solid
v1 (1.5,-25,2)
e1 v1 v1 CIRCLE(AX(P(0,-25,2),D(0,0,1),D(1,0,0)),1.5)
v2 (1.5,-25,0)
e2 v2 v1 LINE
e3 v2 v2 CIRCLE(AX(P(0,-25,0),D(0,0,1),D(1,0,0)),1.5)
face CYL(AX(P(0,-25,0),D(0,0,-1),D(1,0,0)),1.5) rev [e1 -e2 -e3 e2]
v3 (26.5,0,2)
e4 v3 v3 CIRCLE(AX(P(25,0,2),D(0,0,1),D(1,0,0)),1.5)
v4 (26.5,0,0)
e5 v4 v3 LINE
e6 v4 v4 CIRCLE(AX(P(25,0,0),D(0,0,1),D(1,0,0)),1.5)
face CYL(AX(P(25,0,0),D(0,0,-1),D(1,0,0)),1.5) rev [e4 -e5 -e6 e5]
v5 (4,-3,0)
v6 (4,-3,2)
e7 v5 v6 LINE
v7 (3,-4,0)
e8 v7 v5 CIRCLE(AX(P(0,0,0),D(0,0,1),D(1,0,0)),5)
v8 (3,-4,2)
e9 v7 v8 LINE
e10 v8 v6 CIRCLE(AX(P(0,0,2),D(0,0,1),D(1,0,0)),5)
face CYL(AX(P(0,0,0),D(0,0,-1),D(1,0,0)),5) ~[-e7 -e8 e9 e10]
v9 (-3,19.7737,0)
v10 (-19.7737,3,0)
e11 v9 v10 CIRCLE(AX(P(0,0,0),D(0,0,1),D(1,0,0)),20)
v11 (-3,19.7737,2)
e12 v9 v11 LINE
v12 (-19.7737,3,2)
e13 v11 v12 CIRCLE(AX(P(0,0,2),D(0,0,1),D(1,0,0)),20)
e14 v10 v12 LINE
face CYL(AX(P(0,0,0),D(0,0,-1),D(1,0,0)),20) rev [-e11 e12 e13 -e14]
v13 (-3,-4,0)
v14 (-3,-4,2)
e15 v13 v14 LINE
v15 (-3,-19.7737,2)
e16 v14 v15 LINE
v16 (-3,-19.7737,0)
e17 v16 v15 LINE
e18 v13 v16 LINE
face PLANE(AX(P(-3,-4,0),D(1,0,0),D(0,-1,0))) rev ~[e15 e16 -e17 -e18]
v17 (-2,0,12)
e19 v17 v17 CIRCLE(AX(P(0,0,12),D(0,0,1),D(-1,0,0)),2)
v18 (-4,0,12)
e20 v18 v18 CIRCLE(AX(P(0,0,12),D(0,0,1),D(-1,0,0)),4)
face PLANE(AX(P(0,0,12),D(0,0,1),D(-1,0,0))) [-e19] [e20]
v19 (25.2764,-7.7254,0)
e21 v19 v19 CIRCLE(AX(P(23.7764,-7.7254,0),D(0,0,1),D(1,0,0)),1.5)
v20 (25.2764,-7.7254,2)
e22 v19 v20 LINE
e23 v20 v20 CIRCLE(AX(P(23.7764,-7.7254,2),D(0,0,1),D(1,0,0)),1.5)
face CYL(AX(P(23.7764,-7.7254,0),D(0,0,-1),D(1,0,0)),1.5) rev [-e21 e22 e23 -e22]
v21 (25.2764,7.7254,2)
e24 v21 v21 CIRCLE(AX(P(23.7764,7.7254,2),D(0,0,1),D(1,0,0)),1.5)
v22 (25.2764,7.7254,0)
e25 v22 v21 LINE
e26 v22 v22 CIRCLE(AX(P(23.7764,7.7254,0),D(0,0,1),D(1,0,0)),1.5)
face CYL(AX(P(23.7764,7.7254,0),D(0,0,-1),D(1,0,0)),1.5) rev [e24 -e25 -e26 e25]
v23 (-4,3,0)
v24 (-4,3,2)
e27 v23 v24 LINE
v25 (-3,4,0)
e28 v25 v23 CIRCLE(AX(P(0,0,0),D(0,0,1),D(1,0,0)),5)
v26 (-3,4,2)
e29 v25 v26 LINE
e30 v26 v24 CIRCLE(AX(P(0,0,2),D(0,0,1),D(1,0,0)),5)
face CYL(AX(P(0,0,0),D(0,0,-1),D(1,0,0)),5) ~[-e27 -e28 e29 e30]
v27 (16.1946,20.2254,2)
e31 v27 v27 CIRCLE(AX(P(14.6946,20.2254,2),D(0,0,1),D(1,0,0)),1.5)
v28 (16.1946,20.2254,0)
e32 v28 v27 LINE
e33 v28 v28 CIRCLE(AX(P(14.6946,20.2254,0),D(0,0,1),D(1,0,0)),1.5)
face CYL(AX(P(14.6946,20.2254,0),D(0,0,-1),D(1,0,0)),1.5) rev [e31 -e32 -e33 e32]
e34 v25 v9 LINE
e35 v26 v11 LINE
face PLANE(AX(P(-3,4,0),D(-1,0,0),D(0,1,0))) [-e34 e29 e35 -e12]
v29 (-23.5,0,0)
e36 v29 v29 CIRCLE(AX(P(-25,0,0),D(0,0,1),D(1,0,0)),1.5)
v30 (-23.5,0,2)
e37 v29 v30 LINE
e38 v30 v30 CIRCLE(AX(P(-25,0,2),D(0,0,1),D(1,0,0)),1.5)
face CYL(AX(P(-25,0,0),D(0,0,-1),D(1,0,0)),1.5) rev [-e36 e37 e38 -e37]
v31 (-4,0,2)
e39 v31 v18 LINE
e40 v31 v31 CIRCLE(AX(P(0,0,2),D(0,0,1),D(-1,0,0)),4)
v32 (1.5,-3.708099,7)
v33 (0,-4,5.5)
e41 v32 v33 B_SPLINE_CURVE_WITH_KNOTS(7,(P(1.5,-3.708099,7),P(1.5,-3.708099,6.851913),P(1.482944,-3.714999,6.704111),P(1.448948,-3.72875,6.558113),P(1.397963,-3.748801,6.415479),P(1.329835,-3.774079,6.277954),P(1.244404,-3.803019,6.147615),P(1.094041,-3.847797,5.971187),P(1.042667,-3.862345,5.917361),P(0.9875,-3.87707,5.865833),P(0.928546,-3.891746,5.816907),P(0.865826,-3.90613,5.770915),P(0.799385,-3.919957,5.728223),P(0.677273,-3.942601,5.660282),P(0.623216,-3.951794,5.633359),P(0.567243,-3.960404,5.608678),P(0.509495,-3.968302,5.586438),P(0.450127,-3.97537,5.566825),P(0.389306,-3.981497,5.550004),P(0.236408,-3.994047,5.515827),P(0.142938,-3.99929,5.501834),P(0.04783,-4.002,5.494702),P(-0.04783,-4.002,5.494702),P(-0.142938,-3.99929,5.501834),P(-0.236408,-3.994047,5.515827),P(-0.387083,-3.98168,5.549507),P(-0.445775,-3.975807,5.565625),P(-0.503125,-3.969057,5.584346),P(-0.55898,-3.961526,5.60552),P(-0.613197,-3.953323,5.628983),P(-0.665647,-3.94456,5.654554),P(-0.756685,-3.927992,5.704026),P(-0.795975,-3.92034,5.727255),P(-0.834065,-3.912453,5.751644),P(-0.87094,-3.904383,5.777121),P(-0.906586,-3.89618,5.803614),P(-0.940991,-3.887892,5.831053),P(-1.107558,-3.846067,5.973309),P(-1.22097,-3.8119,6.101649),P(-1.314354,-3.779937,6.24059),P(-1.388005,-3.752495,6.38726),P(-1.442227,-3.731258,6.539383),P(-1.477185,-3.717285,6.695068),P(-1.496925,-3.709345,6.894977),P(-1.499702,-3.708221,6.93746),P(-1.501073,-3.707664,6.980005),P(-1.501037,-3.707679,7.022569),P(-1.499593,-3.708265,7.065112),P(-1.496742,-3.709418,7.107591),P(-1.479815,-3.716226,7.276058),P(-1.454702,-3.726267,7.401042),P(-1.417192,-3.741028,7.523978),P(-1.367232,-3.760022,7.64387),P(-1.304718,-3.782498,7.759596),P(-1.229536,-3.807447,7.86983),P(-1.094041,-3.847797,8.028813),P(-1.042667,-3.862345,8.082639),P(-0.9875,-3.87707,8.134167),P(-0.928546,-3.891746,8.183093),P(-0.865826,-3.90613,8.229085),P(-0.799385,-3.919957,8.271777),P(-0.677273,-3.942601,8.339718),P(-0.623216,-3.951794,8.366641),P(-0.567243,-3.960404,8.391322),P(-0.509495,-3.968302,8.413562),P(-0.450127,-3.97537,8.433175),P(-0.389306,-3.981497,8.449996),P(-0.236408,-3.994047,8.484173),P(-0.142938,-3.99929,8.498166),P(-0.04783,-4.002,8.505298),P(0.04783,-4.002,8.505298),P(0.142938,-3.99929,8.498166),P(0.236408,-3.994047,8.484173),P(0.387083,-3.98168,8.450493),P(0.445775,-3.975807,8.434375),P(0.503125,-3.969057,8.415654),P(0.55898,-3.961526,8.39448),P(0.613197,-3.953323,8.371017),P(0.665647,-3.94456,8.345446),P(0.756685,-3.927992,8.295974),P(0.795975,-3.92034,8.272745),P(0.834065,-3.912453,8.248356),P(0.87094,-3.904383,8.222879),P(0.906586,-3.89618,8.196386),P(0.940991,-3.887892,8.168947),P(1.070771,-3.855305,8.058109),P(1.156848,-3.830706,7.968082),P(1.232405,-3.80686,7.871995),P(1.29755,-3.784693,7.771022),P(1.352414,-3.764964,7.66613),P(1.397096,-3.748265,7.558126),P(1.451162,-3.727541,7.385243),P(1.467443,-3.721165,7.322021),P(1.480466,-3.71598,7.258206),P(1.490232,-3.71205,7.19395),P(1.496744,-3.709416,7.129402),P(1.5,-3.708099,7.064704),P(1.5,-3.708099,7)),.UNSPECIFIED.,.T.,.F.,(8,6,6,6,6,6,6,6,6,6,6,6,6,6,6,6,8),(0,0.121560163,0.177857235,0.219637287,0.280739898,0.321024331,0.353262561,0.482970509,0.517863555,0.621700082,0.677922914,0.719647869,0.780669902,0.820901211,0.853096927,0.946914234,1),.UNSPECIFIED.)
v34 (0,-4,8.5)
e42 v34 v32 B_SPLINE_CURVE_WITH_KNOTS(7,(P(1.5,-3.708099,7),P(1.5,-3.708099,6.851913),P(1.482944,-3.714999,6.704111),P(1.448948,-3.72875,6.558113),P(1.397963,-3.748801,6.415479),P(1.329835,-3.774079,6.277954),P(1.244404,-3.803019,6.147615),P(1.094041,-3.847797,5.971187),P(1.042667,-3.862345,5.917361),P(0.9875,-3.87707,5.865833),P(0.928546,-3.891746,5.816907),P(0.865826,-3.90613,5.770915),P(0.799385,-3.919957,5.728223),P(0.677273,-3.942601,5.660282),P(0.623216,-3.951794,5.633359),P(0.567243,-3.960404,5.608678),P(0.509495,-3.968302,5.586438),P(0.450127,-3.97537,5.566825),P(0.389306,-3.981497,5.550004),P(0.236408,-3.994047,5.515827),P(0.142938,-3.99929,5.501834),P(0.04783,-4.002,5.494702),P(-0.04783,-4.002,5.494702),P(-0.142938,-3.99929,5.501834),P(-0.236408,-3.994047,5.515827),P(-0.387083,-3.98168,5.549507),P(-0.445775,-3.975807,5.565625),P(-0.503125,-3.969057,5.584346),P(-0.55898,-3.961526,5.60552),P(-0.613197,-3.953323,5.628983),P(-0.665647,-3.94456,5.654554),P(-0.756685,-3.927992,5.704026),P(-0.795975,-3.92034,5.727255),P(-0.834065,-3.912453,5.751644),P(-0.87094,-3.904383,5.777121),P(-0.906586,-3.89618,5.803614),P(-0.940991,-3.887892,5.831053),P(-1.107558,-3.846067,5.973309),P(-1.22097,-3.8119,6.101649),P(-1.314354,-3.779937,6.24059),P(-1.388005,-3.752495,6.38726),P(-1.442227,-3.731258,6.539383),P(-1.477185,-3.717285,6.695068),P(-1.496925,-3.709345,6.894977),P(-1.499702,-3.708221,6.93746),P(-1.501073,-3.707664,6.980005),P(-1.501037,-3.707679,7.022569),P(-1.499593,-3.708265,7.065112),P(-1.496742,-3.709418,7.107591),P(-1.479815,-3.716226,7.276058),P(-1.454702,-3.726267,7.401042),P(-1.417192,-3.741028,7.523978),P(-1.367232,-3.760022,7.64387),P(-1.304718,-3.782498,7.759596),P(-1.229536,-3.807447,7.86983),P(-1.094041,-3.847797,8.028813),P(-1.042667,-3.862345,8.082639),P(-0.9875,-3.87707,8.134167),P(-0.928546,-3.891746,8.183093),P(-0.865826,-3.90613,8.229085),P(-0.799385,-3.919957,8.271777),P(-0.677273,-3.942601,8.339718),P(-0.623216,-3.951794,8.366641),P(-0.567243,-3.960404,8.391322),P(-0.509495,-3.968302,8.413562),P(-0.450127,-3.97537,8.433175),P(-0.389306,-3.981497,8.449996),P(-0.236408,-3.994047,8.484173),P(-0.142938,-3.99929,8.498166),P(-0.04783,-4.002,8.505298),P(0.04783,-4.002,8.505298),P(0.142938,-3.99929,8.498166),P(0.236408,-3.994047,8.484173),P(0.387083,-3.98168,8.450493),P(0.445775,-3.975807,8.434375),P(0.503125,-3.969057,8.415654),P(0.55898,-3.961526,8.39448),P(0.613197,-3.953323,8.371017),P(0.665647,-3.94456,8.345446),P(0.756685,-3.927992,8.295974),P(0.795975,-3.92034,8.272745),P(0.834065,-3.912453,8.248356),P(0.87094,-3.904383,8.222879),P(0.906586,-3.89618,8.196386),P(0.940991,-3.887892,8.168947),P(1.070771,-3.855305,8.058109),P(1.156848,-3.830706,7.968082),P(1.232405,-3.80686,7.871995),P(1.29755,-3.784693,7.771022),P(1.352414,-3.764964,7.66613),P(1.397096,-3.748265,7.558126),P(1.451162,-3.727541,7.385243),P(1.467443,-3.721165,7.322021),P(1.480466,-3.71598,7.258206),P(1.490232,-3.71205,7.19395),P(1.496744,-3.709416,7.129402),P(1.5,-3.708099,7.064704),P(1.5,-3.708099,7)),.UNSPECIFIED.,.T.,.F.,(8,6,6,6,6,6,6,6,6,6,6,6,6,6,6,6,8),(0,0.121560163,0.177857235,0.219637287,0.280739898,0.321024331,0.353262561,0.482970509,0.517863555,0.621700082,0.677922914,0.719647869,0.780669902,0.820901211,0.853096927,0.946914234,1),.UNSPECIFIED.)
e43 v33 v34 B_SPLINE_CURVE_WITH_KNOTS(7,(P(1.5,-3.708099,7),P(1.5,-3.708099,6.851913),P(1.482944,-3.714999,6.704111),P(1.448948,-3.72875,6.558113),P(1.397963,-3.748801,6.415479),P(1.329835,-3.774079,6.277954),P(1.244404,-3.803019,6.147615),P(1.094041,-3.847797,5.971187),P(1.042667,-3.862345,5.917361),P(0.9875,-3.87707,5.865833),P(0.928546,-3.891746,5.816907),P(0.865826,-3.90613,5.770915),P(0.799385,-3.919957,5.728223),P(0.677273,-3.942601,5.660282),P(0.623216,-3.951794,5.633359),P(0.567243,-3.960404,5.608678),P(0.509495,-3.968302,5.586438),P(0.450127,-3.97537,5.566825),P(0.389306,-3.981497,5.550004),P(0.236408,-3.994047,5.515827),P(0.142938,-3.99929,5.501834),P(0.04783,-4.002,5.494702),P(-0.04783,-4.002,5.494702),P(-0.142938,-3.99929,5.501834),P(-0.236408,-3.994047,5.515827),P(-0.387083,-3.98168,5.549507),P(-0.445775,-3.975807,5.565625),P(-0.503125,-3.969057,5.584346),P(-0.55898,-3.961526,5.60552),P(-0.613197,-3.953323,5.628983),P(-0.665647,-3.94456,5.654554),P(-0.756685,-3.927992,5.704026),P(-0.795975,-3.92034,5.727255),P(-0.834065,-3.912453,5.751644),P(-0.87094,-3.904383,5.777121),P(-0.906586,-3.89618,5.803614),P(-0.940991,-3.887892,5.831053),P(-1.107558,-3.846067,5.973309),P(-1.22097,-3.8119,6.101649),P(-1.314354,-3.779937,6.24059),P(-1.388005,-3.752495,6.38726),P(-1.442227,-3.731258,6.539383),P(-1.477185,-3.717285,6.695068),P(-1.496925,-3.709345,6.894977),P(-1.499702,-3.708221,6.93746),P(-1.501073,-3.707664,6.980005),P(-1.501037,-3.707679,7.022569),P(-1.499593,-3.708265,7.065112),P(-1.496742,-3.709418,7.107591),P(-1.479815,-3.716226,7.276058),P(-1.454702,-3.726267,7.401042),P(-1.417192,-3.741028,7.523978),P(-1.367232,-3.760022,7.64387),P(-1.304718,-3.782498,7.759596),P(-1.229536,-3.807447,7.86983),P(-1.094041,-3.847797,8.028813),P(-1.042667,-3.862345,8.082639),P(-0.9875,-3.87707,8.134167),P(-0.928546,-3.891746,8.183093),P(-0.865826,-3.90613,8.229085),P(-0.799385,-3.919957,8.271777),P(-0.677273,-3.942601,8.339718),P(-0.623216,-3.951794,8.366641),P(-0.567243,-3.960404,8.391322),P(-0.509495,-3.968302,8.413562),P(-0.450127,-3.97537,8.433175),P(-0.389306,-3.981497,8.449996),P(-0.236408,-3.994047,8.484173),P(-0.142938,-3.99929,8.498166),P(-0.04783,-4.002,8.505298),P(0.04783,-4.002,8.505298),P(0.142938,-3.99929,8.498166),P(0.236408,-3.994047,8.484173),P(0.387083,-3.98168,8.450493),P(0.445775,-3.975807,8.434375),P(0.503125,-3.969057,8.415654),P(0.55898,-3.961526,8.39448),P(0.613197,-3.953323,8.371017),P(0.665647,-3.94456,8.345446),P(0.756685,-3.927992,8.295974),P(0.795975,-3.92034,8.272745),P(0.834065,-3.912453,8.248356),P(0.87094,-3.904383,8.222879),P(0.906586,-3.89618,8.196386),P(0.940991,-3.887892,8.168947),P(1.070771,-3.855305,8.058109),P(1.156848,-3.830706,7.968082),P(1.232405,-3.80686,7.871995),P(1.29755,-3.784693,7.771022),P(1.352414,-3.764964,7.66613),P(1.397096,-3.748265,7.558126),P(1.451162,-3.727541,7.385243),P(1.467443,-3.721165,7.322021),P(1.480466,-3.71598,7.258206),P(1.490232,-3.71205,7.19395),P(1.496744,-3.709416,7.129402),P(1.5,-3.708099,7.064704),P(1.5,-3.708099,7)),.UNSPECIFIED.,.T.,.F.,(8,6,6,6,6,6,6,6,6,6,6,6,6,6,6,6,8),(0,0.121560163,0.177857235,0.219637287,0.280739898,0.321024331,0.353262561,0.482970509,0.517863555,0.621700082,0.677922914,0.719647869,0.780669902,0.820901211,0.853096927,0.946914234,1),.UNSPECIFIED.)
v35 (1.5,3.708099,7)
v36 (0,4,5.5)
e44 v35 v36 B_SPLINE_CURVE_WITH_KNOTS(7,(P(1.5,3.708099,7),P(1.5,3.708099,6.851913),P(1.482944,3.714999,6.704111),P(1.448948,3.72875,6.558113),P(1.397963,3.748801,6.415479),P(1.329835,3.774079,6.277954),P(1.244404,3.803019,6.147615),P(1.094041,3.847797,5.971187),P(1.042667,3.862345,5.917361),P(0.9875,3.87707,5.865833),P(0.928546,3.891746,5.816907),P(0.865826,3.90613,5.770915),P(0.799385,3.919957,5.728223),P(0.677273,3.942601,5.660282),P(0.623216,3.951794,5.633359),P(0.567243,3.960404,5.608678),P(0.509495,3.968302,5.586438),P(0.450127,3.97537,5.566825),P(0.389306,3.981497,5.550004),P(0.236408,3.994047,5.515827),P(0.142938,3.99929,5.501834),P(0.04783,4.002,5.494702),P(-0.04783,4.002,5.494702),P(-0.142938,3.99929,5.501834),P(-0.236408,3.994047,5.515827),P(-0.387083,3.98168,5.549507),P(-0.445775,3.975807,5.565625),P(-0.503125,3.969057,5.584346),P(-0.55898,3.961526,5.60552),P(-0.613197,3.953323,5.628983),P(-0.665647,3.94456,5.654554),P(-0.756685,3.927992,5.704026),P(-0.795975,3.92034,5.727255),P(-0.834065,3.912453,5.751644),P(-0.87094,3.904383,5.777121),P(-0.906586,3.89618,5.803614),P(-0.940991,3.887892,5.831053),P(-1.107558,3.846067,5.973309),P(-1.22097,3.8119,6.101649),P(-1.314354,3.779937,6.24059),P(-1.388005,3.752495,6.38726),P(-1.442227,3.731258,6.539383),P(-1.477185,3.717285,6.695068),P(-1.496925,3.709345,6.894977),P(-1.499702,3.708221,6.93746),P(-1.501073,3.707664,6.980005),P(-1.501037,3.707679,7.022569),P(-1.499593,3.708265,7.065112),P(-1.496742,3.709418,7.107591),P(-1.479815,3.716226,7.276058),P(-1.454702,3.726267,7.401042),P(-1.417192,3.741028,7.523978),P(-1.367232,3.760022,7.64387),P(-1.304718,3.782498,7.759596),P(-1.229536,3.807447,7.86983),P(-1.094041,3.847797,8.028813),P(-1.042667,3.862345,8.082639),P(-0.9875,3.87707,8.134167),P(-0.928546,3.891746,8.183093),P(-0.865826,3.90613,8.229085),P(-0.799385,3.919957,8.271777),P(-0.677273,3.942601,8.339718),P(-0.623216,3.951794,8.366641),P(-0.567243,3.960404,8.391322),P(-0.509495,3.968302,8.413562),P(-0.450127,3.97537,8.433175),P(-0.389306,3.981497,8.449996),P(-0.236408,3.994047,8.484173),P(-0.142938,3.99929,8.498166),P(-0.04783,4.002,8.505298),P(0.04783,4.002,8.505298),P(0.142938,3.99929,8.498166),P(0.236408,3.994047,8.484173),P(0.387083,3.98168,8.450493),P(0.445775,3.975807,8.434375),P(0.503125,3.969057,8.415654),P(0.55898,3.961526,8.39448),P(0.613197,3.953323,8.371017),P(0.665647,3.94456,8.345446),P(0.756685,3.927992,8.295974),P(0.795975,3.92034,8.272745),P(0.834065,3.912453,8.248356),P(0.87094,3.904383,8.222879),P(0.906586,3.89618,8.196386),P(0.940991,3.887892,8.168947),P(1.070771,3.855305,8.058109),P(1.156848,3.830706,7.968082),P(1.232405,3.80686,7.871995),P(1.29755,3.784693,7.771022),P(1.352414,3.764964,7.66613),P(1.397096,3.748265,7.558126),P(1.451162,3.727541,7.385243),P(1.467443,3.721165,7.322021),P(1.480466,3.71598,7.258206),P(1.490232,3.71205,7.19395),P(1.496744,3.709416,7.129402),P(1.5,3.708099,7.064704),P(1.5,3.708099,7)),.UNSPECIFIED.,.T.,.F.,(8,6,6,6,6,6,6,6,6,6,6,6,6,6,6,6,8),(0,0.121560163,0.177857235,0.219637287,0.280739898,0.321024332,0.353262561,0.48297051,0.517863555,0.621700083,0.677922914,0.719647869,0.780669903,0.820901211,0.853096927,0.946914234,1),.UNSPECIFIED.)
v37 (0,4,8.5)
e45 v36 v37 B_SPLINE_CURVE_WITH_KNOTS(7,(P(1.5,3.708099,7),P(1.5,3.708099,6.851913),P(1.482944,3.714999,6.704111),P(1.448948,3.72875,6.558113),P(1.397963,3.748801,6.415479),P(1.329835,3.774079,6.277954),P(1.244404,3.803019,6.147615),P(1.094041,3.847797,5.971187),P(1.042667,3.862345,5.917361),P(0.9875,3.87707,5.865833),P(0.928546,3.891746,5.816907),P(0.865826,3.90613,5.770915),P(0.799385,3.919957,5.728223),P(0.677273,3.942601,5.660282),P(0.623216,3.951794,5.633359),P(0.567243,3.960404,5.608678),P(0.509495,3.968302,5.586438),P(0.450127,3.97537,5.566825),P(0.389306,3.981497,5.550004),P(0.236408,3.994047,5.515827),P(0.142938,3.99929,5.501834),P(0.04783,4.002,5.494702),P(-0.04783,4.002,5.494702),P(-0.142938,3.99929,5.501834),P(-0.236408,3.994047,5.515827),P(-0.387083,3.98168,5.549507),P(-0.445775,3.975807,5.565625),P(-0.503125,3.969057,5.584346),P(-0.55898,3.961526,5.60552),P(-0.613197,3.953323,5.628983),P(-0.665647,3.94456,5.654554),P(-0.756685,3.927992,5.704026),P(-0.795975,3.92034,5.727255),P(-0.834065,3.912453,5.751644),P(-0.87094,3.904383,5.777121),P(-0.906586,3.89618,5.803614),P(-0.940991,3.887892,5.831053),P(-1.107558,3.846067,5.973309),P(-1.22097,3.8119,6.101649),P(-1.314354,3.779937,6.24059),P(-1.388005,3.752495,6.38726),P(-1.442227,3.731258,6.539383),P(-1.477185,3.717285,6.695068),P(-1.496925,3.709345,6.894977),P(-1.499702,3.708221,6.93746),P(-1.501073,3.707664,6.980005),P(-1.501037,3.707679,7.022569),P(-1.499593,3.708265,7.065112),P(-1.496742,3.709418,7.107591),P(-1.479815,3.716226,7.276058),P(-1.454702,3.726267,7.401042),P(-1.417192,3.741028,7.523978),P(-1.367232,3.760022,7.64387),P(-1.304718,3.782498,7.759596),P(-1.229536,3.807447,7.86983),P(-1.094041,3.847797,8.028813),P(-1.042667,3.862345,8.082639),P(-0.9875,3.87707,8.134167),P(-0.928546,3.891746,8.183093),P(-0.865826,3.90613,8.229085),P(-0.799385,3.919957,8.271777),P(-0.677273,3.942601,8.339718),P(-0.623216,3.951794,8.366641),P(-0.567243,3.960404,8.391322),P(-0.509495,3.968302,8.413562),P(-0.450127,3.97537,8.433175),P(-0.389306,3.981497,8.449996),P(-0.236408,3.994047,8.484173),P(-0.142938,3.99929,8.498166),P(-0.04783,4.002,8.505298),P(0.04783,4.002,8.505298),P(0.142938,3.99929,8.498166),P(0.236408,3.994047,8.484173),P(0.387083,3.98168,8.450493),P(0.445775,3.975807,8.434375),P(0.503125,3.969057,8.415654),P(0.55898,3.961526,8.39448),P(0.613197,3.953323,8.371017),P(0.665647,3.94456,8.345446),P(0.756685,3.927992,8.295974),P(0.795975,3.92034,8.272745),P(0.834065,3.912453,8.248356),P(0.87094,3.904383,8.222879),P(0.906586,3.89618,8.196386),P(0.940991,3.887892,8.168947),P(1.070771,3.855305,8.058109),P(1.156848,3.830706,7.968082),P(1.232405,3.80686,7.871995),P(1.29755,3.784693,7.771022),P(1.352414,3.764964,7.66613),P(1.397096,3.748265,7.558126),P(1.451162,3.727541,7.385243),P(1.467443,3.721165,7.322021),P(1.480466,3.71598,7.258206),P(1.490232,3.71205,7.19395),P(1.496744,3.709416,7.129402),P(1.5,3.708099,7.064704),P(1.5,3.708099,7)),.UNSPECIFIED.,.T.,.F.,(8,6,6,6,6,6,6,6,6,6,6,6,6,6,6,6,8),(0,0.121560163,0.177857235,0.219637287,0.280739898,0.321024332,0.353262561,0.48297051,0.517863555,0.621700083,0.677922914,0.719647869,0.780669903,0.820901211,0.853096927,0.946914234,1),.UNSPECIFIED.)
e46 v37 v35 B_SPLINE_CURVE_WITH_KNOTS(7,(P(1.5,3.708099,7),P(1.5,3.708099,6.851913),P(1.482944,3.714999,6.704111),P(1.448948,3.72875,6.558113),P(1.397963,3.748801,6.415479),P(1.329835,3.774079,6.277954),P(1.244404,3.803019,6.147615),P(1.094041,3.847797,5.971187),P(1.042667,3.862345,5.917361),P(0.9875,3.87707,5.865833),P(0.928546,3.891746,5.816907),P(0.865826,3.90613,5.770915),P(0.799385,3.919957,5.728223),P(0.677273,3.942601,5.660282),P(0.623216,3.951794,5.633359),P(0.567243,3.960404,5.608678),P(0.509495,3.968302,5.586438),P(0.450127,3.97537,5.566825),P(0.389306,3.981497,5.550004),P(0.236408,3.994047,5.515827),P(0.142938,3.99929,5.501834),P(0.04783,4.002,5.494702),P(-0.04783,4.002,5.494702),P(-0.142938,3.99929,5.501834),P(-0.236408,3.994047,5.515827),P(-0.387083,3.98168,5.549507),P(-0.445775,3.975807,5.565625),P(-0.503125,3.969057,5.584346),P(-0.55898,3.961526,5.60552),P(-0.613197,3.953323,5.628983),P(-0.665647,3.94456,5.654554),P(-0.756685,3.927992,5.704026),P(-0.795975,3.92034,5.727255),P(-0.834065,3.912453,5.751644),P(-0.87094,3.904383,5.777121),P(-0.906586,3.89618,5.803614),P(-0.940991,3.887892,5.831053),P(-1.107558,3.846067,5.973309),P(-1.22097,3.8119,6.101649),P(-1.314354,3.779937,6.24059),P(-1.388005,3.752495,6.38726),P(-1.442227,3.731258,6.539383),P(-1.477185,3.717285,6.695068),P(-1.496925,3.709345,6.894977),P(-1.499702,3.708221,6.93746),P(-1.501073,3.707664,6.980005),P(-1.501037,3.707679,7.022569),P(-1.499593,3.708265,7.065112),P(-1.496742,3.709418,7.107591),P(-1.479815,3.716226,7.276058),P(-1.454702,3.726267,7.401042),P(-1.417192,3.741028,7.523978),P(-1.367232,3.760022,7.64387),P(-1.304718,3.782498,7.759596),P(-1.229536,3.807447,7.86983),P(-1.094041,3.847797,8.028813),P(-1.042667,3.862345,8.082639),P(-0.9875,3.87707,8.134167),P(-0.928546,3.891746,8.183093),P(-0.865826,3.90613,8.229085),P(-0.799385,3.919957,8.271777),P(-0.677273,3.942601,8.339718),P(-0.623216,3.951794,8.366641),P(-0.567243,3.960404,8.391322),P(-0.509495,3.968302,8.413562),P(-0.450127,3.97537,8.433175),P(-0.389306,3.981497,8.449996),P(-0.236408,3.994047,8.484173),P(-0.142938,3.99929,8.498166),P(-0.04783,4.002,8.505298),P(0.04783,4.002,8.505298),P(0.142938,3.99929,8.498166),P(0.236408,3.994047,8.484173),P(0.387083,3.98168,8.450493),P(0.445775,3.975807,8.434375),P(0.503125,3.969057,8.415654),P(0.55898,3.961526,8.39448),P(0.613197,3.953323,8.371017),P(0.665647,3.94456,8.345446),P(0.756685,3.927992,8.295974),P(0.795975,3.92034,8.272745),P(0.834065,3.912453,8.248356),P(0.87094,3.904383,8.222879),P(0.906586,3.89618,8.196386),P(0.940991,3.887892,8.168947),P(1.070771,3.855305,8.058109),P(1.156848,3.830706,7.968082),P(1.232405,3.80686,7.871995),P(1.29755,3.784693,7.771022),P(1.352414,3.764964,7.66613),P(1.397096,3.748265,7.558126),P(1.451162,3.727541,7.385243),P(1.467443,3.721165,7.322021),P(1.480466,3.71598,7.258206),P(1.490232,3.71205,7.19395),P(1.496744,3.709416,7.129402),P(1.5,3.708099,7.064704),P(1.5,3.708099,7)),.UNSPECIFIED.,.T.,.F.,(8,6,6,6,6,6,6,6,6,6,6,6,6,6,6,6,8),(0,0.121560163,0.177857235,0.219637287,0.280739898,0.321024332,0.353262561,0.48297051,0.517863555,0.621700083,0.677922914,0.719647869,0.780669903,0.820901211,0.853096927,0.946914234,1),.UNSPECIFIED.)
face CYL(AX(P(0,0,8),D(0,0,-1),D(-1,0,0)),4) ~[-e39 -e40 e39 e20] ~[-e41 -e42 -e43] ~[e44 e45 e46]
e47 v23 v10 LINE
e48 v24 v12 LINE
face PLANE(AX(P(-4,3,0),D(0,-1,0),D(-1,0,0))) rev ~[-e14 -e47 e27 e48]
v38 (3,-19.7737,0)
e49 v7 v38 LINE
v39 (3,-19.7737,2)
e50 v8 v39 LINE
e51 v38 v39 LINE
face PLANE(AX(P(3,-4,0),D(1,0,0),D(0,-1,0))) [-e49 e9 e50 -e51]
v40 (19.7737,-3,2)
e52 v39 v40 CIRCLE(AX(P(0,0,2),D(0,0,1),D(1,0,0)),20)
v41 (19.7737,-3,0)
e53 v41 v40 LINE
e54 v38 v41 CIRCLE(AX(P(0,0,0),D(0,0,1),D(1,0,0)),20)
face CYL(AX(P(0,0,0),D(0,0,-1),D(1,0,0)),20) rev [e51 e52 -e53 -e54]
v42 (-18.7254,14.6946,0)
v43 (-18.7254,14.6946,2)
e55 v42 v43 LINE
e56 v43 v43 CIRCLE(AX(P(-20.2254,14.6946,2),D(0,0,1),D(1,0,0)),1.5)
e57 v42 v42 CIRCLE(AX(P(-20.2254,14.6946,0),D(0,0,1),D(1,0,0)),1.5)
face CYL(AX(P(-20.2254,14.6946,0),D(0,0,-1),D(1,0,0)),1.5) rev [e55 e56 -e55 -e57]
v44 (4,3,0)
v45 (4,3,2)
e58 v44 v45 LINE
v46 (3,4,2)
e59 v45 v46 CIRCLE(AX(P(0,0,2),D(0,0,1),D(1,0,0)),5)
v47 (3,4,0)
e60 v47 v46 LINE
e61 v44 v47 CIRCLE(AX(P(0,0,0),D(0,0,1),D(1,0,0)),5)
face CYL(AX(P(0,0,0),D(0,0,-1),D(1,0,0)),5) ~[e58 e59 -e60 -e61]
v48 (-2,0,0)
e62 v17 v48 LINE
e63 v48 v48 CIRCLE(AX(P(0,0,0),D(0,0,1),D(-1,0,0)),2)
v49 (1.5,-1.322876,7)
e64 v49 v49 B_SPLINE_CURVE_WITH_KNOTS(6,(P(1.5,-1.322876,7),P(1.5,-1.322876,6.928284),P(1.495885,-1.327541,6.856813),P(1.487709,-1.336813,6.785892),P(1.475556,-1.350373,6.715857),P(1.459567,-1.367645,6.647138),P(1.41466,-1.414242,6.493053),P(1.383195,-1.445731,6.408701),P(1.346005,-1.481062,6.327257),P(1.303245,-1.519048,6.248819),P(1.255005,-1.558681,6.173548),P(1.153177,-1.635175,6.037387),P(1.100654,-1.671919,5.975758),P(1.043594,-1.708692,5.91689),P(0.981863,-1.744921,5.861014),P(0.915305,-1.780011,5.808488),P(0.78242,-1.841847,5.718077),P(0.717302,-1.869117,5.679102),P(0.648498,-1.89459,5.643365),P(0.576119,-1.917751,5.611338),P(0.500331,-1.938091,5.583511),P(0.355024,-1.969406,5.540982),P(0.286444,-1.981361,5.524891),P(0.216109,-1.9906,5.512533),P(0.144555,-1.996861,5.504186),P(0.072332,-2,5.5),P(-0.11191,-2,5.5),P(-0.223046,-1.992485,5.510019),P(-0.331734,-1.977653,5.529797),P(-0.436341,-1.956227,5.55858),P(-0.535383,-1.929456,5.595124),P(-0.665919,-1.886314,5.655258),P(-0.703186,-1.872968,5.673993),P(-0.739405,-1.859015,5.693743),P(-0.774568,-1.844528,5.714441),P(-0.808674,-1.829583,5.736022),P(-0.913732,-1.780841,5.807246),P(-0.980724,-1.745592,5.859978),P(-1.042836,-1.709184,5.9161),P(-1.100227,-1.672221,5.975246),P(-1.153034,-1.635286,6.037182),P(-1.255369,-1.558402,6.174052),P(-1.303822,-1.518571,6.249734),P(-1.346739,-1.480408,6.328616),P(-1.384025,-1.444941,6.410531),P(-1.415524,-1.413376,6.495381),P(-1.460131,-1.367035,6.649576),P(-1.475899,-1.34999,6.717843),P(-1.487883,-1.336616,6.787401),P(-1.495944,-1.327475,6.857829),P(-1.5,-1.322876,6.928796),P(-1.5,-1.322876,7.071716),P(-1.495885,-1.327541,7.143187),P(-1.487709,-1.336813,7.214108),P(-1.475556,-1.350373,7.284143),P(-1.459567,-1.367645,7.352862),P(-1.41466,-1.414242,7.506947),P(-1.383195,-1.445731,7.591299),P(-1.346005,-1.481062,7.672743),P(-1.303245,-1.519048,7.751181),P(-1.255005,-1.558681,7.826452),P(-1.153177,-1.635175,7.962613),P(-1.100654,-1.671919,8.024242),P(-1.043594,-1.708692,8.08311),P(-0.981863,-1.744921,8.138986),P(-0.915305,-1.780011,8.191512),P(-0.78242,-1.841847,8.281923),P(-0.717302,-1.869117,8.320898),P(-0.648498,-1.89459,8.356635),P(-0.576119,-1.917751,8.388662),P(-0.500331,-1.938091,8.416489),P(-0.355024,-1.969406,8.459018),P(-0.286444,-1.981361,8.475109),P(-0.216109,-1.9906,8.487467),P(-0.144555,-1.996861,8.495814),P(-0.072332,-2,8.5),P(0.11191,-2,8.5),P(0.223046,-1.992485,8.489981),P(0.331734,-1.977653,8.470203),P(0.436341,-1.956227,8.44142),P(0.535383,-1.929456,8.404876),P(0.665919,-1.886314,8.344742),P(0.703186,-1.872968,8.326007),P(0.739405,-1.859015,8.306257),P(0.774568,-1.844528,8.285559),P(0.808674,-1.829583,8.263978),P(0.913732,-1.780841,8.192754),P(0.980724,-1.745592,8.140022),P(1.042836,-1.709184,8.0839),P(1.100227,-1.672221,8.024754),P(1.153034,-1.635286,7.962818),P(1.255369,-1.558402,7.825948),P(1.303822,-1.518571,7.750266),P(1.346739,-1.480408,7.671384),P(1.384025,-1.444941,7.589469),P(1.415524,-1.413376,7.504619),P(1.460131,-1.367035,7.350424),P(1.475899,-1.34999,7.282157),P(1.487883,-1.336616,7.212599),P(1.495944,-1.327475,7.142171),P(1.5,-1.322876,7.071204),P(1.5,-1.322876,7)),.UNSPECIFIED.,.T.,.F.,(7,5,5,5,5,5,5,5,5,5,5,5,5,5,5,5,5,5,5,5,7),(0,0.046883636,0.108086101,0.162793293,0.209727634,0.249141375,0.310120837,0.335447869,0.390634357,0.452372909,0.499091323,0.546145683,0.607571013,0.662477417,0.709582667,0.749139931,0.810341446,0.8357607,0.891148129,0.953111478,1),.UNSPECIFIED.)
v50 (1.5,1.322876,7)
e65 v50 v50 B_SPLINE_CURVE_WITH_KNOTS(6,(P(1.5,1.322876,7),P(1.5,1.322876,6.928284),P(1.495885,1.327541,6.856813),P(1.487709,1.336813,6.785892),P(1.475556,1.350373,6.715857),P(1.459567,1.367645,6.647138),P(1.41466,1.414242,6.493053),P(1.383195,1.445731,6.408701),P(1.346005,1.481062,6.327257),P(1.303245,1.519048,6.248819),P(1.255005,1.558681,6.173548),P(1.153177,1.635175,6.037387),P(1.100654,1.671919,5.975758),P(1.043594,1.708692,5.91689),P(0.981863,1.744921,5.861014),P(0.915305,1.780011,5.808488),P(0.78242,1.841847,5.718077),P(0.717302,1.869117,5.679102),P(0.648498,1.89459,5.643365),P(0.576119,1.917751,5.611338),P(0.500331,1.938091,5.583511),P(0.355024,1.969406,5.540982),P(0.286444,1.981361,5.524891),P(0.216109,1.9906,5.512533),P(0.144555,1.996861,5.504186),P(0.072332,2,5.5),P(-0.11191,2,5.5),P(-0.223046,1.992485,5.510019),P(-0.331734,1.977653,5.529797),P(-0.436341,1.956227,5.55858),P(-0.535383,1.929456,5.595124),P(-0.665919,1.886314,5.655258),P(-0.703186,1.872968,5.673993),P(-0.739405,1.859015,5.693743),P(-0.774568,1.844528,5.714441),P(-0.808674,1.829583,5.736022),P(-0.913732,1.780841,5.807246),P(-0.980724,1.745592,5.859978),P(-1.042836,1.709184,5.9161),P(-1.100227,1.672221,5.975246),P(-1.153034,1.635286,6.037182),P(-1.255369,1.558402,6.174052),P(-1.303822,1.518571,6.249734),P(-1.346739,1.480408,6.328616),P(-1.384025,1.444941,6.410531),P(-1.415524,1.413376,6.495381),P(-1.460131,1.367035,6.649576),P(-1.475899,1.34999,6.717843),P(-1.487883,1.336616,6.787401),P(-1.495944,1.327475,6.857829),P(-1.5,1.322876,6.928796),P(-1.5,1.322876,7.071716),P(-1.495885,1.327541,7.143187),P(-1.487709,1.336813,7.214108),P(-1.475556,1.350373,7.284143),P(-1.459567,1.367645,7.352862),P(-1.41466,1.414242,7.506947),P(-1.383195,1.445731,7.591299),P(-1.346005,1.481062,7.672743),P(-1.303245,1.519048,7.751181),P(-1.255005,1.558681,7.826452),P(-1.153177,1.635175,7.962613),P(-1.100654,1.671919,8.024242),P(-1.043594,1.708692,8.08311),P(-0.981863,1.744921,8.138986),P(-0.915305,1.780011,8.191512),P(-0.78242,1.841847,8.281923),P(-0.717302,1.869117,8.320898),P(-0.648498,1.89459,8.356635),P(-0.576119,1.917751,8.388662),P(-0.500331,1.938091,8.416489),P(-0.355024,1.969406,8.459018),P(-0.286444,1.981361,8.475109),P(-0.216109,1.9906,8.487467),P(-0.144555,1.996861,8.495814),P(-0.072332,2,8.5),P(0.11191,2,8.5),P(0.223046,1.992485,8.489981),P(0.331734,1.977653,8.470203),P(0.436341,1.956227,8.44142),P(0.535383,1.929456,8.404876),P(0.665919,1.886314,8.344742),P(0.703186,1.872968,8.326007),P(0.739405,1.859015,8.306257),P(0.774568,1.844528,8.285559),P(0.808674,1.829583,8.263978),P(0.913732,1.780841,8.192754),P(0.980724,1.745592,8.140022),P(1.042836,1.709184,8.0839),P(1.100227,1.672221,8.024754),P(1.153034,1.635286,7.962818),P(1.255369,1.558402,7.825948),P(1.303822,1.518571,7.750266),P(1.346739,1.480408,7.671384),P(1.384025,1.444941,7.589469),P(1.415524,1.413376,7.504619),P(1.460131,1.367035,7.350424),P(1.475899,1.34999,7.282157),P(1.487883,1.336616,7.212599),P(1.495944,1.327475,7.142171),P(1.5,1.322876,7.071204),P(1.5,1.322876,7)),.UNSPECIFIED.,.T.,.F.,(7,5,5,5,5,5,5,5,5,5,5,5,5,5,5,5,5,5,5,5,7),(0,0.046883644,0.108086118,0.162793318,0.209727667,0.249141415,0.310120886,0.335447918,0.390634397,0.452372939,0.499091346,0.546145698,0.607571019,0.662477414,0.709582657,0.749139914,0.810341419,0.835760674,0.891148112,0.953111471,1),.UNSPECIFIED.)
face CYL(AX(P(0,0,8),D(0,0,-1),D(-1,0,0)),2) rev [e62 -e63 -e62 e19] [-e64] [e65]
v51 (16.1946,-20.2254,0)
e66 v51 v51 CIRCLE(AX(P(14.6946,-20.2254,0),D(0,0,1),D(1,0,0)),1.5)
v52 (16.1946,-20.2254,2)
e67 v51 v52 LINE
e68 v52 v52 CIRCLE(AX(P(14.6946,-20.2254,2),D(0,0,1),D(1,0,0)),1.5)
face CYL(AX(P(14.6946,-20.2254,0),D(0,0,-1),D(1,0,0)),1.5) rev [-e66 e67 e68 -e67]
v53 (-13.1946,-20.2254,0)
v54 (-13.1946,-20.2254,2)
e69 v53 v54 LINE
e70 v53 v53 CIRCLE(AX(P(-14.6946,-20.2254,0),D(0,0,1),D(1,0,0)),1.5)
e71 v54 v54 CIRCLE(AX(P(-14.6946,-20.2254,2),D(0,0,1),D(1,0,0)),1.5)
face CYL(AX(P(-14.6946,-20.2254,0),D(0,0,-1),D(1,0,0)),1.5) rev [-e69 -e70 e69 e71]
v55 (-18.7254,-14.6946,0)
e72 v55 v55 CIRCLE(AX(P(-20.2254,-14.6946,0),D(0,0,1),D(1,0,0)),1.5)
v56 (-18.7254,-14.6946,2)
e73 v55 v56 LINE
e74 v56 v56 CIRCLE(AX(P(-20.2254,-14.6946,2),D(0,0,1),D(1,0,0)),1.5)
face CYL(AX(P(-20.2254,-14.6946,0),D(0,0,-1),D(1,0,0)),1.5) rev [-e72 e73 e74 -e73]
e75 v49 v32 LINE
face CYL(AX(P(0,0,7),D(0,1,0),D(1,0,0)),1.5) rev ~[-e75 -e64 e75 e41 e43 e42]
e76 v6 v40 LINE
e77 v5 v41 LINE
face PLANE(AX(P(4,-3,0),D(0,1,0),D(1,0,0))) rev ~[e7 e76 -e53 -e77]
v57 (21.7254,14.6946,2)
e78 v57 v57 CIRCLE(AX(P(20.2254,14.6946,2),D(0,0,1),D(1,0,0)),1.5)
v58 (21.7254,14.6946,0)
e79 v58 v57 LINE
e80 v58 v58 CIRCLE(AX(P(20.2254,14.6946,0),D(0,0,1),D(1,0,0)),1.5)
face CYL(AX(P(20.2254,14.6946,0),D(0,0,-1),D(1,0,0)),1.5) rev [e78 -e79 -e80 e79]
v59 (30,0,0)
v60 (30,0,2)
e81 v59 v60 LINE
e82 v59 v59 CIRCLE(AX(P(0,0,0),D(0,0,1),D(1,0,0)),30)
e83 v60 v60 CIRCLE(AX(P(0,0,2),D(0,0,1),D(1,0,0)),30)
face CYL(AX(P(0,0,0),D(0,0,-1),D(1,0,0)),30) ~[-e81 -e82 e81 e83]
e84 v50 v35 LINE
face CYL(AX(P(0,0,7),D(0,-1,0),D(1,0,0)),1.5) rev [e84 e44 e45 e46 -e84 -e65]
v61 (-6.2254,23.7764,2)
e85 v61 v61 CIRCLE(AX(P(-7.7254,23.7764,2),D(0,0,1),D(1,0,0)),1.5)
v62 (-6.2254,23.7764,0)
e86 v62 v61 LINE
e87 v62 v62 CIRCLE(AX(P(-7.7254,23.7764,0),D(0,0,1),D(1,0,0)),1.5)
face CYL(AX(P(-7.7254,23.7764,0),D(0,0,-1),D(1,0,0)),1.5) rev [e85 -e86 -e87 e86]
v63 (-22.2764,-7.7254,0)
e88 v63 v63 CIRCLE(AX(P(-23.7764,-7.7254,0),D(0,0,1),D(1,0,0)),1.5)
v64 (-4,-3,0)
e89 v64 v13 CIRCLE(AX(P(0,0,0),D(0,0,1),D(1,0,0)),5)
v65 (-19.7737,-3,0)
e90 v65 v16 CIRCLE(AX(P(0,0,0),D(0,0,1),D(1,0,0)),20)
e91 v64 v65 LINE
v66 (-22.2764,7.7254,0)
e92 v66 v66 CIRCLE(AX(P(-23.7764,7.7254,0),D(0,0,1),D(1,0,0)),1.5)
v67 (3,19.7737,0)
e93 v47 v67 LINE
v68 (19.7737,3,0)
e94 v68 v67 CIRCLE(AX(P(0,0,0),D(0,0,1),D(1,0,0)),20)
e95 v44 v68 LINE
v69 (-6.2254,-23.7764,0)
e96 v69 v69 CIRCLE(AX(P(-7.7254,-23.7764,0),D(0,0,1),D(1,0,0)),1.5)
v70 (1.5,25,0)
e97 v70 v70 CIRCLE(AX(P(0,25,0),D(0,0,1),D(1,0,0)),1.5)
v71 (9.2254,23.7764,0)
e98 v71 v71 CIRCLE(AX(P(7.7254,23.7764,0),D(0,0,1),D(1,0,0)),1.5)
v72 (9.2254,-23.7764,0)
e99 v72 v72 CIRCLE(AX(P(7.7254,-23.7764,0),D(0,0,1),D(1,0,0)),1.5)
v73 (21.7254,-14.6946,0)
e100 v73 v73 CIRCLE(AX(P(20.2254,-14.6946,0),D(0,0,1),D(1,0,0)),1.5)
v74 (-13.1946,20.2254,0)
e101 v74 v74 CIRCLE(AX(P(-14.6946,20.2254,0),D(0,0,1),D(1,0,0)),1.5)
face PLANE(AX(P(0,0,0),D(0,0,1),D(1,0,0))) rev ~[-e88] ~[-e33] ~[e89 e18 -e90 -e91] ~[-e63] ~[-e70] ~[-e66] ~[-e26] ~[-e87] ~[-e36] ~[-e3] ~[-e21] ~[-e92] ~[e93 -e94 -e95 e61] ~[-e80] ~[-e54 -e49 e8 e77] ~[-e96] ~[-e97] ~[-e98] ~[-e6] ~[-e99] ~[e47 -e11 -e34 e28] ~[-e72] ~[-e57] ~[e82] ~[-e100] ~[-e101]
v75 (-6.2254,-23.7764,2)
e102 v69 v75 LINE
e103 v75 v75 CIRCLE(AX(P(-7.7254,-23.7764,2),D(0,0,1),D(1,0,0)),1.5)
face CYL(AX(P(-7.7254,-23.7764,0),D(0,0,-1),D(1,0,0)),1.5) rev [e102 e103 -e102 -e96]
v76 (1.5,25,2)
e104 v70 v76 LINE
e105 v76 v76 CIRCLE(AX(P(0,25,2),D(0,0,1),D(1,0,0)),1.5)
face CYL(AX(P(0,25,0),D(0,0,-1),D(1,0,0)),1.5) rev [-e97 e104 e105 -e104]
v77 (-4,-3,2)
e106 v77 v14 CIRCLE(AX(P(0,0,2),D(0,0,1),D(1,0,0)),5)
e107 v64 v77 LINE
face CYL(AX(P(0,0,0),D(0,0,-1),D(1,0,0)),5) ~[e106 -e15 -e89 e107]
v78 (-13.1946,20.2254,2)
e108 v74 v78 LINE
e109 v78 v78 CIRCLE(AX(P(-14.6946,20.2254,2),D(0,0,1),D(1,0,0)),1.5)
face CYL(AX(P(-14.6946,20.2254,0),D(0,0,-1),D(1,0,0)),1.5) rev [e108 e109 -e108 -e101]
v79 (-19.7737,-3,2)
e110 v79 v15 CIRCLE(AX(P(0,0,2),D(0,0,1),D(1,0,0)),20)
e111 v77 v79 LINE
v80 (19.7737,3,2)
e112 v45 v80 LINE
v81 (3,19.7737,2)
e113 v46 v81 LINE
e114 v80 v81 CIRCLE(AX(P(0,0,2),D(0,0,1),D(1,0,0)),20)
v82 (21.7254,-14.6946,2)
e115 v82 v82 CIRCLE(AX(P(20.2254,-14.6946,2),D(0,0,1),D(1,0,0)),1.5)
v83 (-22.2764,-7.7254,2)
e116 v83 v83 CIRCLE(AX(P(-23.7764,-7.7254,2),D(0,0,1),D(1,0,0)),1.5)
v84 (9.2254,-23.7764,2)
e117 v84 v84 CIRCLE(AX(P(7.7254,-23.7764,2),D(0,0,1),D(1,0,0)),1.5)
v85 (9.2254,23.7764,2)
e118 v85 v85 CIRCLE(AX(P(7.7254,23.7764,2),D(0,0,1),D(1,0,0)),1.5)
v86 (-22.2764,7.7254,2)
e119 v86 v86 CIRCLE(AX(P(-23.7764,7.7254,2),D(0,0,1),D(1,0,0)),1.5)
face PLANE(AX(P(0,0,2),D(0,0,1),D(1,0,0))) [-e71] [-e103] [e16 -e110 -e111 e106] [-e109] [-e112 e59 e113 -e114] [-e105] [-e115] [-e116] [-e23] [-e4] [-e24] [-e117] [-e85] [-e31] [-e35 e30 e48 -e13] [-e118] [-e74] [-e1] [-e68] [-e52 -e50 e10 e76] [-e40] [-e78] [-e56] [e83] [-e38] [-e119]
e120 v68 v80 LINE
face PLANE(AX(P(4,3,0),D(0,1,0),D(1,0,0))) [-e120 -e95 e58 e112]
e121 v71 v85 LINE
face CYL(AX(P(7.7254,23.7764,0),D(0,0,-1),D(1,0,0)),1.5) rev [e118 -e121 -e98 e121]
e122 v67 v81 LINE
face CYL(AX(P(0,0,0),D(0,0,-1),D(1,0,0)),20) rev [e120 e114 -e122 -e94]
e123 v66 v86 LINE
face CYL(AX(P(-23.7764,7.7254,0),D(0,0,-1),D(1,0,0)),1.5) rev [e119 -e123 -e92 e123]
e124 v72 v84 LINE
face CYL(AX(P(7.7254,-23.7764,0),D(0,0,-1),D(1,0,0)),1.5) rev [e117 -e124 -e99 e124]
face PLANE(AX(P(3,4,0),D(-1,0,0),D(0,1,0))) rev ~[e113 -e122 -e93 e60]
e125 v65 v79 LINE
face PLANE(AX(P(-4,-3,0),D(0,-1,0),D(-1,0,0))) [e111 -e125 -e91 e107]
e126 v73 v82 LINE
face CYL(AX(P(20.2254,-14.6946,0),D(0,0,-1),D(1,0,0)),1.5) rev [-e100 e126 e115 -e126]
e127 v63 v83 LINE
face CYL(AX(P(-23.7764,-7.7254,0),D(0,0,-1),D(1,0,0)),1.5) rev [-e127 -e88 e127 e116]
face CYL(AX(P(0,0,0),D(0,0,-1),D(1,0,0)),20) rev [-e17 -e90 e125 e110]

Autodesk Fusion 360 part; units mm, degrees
sketch "スケッチ1" plane through (0, 0, 0) normal (0, 0, 1) x (1, 0, 0)
  circle A0 centre (0, 0) radius 30
  circle A1 centre (0, 0) radius 20
  circle A2 centre (0, 0) radius 5
  circle A3 centre (0, 25) radius 1.5
  line L0 (-3, 4) -> (-3, 19.7737)
  line L1 (3, 4) -> (3, 19.7737)
  line L2 (-4, 3) -> (-19.7737, 3)
  line L3 (-4, -3) -> (-19.7737, -3)
  line L4 (-3, -4) -> (-3, -19.7737)
  line L5 (3, -4) -> (3, -19.7737)
  line L6 (4, -3) -> (19.7737, -3)
  line L7 (4, 3) -> (19.7737, 3)
  circle A4 centre (-7.7254, 23.7764) radius 1.5
  circle A5 centre (-14.6946, 20.2254) radius 1.5
  circle A6 centre (-20.2254, 14.6946) radius 1.5
  circle A7 centre (-23.7764, 7.7254) radius 1.5
  circle A8 centre (-25, 0) radius 1.5
  circle A9 centre (-23.7764, -7.7254) radius 1.5
  circle A10 centre (-20.2254, -14.6946) radius 1.5
  circle A11 centre (-14.6946, -20.2254) radius 1.5
  circle A12 centre (-7.7254, -23.7764) radius 1.5
  circle A13 centre (0, -25) radius 1.5
  circle A14 centre (7.7254, -23.7764) radius 1.5
  circle A15 centre (14.6946, -20.2254) radius 1.5
  circle A16 centre (20.2254, -14.6946) radius 1.5
  circle A17 centre (23.7764, -7.7254) radius 1.5
  circle A18 centre (25, 0) radius 1.5
  circle A19 centre (23.7764, 7.7254) radius 1.5
  circle A20 centre (20.2254, 14.6946) radius 1.5
  circle A21 centre (14.6946, 20.2254) radius 1.5
  circle A22 centre (7.7254, 23.7764) radius 1.5
  dimension "d2" = 360
  dimension "d4" = 360
extrude "押し出し1" add sketch "スケッチ1" along normal blind 2 contours A0 | A1 A2 L6 L7 | A1 A2 L0 L1 | A2 | A1 A2 L4 L5 | A1 A2 L2 L3
sketch "スケッチ2" plane through (0, 0, 2) normal (0, 0, 1) x (-1, 0, 0)
  circle A0 centre (0, -25) radius 1.5
  circle A1 centre (7.7254, 23.7764) radius 1.5
  circle A2 centre (14.6946, -20.2254) radius 1.5
  circle A3 centre (23.7764, -7.7254) radius 1.5
  circle A4 centre (14.6946, 20.2254) radius 1.5
  circle A5 centre (25, 0) radius 1.5
  circle A6 centre (20.2254, 14.6946) radius 1.5
  circle A7 centre (-7.7254, -23.7764) radius 1.5
  circle A8 centre (0, 0) radius 30
  arc A9 (-4, -3) -> (-3, -4) centre (0, 0) ccw
  line L0 (-3, -4) -> (-3, -19.7737)
  arc A10 (-19.7737, -3) -> (-3, -19.7737) centre (0, 0) ccw
  line L1 (-19.7737, -3) -> (-4, -3)
  line L2 (-3, 19.7737) -> (-3, 4)
  arc A11 (-3, 4) -> (-4, 3) centre (0, 0) ccw
  line L3 (-4, 3) -> (-19.7737, 3)
  arc A12 (-3, 19.7737) -> (-19.7737, 3) centre (0, 0) ccw
  circle A13 centre (-14.6946, 20.2254) radius 1.5
  circle A14 centre (-23.7764, -7.7254) radius 1.5
  line L4 (3, -19.7737) -> (3, -4)
  arc A15 (3, -4) -> (4, -3) centre (0, 0) ccw
  line L5 (4, -3) -> (19.7737, -3)
  arc A16 (3, -19.7737) -> (19.7737, -3) centre (0, 0) ccw
  line L6 (19.7737, 3) -> (4, 3)
  arc A17 (4, 3) -> (3, 4) centre (0, 0) ccw
  line L7 (3, 4) -> (3, 19.7737)
  arc A18 (19.7737, 3) -> (3, 19.7737) centre (0, 0) ccw
  circle A19 centre (-25, 0) radius 1.5
  circle A20 centre (-23.7764, 7.7254) radius 1.5
  circle A21 centre (23.7764, 7.7254) radius 1.5
  circle A22 centre (-14.6946, -20.2254) radius 1.5
  circle A23 centre (-20.2254, -14.6946) radius 1.5
  circle A24 centre (7.7254, -23.7764) radius 1.5
  circle A25 centre (-20.2254, 14.6946) radius 1.5
  circle A26 centre (0, 25) radius 1.5
  circle A27 centre (-7.7254, 23.7764) radius 1.5
  circle A28 centre (20.2254, -14.6946) radius 1.5
  circle A29 centre (0, 0) radius 2
  circle A30 centre (0, 0) radius 4
extrude "押し出し2" add sketch "スケッチ2" along normal blind 6 contours A30
extrude "押し出し3" cut 1 faces at (-0.4157, -0.5212, 2) along direction (0, 0, -1) blind 2
extrude "押し出し4" add 1 faces at (-3.311, 0.2981, 8) along direction (0, 0, 1) blind 4
ref_plane "作業平面1" through (0, 0, 6) normal (0, 1, 0) x (0, 0, 1)
sketch "スケッチ3" plane through (0, 0, 0) normal (0, 1, 0) x (1, 0, 0)
  circle A0 centre (0, -7) radius 1.5
extrude "押し出し5" cut sketch "スケッチ3" along normal blind 4 and the other way blind 4
